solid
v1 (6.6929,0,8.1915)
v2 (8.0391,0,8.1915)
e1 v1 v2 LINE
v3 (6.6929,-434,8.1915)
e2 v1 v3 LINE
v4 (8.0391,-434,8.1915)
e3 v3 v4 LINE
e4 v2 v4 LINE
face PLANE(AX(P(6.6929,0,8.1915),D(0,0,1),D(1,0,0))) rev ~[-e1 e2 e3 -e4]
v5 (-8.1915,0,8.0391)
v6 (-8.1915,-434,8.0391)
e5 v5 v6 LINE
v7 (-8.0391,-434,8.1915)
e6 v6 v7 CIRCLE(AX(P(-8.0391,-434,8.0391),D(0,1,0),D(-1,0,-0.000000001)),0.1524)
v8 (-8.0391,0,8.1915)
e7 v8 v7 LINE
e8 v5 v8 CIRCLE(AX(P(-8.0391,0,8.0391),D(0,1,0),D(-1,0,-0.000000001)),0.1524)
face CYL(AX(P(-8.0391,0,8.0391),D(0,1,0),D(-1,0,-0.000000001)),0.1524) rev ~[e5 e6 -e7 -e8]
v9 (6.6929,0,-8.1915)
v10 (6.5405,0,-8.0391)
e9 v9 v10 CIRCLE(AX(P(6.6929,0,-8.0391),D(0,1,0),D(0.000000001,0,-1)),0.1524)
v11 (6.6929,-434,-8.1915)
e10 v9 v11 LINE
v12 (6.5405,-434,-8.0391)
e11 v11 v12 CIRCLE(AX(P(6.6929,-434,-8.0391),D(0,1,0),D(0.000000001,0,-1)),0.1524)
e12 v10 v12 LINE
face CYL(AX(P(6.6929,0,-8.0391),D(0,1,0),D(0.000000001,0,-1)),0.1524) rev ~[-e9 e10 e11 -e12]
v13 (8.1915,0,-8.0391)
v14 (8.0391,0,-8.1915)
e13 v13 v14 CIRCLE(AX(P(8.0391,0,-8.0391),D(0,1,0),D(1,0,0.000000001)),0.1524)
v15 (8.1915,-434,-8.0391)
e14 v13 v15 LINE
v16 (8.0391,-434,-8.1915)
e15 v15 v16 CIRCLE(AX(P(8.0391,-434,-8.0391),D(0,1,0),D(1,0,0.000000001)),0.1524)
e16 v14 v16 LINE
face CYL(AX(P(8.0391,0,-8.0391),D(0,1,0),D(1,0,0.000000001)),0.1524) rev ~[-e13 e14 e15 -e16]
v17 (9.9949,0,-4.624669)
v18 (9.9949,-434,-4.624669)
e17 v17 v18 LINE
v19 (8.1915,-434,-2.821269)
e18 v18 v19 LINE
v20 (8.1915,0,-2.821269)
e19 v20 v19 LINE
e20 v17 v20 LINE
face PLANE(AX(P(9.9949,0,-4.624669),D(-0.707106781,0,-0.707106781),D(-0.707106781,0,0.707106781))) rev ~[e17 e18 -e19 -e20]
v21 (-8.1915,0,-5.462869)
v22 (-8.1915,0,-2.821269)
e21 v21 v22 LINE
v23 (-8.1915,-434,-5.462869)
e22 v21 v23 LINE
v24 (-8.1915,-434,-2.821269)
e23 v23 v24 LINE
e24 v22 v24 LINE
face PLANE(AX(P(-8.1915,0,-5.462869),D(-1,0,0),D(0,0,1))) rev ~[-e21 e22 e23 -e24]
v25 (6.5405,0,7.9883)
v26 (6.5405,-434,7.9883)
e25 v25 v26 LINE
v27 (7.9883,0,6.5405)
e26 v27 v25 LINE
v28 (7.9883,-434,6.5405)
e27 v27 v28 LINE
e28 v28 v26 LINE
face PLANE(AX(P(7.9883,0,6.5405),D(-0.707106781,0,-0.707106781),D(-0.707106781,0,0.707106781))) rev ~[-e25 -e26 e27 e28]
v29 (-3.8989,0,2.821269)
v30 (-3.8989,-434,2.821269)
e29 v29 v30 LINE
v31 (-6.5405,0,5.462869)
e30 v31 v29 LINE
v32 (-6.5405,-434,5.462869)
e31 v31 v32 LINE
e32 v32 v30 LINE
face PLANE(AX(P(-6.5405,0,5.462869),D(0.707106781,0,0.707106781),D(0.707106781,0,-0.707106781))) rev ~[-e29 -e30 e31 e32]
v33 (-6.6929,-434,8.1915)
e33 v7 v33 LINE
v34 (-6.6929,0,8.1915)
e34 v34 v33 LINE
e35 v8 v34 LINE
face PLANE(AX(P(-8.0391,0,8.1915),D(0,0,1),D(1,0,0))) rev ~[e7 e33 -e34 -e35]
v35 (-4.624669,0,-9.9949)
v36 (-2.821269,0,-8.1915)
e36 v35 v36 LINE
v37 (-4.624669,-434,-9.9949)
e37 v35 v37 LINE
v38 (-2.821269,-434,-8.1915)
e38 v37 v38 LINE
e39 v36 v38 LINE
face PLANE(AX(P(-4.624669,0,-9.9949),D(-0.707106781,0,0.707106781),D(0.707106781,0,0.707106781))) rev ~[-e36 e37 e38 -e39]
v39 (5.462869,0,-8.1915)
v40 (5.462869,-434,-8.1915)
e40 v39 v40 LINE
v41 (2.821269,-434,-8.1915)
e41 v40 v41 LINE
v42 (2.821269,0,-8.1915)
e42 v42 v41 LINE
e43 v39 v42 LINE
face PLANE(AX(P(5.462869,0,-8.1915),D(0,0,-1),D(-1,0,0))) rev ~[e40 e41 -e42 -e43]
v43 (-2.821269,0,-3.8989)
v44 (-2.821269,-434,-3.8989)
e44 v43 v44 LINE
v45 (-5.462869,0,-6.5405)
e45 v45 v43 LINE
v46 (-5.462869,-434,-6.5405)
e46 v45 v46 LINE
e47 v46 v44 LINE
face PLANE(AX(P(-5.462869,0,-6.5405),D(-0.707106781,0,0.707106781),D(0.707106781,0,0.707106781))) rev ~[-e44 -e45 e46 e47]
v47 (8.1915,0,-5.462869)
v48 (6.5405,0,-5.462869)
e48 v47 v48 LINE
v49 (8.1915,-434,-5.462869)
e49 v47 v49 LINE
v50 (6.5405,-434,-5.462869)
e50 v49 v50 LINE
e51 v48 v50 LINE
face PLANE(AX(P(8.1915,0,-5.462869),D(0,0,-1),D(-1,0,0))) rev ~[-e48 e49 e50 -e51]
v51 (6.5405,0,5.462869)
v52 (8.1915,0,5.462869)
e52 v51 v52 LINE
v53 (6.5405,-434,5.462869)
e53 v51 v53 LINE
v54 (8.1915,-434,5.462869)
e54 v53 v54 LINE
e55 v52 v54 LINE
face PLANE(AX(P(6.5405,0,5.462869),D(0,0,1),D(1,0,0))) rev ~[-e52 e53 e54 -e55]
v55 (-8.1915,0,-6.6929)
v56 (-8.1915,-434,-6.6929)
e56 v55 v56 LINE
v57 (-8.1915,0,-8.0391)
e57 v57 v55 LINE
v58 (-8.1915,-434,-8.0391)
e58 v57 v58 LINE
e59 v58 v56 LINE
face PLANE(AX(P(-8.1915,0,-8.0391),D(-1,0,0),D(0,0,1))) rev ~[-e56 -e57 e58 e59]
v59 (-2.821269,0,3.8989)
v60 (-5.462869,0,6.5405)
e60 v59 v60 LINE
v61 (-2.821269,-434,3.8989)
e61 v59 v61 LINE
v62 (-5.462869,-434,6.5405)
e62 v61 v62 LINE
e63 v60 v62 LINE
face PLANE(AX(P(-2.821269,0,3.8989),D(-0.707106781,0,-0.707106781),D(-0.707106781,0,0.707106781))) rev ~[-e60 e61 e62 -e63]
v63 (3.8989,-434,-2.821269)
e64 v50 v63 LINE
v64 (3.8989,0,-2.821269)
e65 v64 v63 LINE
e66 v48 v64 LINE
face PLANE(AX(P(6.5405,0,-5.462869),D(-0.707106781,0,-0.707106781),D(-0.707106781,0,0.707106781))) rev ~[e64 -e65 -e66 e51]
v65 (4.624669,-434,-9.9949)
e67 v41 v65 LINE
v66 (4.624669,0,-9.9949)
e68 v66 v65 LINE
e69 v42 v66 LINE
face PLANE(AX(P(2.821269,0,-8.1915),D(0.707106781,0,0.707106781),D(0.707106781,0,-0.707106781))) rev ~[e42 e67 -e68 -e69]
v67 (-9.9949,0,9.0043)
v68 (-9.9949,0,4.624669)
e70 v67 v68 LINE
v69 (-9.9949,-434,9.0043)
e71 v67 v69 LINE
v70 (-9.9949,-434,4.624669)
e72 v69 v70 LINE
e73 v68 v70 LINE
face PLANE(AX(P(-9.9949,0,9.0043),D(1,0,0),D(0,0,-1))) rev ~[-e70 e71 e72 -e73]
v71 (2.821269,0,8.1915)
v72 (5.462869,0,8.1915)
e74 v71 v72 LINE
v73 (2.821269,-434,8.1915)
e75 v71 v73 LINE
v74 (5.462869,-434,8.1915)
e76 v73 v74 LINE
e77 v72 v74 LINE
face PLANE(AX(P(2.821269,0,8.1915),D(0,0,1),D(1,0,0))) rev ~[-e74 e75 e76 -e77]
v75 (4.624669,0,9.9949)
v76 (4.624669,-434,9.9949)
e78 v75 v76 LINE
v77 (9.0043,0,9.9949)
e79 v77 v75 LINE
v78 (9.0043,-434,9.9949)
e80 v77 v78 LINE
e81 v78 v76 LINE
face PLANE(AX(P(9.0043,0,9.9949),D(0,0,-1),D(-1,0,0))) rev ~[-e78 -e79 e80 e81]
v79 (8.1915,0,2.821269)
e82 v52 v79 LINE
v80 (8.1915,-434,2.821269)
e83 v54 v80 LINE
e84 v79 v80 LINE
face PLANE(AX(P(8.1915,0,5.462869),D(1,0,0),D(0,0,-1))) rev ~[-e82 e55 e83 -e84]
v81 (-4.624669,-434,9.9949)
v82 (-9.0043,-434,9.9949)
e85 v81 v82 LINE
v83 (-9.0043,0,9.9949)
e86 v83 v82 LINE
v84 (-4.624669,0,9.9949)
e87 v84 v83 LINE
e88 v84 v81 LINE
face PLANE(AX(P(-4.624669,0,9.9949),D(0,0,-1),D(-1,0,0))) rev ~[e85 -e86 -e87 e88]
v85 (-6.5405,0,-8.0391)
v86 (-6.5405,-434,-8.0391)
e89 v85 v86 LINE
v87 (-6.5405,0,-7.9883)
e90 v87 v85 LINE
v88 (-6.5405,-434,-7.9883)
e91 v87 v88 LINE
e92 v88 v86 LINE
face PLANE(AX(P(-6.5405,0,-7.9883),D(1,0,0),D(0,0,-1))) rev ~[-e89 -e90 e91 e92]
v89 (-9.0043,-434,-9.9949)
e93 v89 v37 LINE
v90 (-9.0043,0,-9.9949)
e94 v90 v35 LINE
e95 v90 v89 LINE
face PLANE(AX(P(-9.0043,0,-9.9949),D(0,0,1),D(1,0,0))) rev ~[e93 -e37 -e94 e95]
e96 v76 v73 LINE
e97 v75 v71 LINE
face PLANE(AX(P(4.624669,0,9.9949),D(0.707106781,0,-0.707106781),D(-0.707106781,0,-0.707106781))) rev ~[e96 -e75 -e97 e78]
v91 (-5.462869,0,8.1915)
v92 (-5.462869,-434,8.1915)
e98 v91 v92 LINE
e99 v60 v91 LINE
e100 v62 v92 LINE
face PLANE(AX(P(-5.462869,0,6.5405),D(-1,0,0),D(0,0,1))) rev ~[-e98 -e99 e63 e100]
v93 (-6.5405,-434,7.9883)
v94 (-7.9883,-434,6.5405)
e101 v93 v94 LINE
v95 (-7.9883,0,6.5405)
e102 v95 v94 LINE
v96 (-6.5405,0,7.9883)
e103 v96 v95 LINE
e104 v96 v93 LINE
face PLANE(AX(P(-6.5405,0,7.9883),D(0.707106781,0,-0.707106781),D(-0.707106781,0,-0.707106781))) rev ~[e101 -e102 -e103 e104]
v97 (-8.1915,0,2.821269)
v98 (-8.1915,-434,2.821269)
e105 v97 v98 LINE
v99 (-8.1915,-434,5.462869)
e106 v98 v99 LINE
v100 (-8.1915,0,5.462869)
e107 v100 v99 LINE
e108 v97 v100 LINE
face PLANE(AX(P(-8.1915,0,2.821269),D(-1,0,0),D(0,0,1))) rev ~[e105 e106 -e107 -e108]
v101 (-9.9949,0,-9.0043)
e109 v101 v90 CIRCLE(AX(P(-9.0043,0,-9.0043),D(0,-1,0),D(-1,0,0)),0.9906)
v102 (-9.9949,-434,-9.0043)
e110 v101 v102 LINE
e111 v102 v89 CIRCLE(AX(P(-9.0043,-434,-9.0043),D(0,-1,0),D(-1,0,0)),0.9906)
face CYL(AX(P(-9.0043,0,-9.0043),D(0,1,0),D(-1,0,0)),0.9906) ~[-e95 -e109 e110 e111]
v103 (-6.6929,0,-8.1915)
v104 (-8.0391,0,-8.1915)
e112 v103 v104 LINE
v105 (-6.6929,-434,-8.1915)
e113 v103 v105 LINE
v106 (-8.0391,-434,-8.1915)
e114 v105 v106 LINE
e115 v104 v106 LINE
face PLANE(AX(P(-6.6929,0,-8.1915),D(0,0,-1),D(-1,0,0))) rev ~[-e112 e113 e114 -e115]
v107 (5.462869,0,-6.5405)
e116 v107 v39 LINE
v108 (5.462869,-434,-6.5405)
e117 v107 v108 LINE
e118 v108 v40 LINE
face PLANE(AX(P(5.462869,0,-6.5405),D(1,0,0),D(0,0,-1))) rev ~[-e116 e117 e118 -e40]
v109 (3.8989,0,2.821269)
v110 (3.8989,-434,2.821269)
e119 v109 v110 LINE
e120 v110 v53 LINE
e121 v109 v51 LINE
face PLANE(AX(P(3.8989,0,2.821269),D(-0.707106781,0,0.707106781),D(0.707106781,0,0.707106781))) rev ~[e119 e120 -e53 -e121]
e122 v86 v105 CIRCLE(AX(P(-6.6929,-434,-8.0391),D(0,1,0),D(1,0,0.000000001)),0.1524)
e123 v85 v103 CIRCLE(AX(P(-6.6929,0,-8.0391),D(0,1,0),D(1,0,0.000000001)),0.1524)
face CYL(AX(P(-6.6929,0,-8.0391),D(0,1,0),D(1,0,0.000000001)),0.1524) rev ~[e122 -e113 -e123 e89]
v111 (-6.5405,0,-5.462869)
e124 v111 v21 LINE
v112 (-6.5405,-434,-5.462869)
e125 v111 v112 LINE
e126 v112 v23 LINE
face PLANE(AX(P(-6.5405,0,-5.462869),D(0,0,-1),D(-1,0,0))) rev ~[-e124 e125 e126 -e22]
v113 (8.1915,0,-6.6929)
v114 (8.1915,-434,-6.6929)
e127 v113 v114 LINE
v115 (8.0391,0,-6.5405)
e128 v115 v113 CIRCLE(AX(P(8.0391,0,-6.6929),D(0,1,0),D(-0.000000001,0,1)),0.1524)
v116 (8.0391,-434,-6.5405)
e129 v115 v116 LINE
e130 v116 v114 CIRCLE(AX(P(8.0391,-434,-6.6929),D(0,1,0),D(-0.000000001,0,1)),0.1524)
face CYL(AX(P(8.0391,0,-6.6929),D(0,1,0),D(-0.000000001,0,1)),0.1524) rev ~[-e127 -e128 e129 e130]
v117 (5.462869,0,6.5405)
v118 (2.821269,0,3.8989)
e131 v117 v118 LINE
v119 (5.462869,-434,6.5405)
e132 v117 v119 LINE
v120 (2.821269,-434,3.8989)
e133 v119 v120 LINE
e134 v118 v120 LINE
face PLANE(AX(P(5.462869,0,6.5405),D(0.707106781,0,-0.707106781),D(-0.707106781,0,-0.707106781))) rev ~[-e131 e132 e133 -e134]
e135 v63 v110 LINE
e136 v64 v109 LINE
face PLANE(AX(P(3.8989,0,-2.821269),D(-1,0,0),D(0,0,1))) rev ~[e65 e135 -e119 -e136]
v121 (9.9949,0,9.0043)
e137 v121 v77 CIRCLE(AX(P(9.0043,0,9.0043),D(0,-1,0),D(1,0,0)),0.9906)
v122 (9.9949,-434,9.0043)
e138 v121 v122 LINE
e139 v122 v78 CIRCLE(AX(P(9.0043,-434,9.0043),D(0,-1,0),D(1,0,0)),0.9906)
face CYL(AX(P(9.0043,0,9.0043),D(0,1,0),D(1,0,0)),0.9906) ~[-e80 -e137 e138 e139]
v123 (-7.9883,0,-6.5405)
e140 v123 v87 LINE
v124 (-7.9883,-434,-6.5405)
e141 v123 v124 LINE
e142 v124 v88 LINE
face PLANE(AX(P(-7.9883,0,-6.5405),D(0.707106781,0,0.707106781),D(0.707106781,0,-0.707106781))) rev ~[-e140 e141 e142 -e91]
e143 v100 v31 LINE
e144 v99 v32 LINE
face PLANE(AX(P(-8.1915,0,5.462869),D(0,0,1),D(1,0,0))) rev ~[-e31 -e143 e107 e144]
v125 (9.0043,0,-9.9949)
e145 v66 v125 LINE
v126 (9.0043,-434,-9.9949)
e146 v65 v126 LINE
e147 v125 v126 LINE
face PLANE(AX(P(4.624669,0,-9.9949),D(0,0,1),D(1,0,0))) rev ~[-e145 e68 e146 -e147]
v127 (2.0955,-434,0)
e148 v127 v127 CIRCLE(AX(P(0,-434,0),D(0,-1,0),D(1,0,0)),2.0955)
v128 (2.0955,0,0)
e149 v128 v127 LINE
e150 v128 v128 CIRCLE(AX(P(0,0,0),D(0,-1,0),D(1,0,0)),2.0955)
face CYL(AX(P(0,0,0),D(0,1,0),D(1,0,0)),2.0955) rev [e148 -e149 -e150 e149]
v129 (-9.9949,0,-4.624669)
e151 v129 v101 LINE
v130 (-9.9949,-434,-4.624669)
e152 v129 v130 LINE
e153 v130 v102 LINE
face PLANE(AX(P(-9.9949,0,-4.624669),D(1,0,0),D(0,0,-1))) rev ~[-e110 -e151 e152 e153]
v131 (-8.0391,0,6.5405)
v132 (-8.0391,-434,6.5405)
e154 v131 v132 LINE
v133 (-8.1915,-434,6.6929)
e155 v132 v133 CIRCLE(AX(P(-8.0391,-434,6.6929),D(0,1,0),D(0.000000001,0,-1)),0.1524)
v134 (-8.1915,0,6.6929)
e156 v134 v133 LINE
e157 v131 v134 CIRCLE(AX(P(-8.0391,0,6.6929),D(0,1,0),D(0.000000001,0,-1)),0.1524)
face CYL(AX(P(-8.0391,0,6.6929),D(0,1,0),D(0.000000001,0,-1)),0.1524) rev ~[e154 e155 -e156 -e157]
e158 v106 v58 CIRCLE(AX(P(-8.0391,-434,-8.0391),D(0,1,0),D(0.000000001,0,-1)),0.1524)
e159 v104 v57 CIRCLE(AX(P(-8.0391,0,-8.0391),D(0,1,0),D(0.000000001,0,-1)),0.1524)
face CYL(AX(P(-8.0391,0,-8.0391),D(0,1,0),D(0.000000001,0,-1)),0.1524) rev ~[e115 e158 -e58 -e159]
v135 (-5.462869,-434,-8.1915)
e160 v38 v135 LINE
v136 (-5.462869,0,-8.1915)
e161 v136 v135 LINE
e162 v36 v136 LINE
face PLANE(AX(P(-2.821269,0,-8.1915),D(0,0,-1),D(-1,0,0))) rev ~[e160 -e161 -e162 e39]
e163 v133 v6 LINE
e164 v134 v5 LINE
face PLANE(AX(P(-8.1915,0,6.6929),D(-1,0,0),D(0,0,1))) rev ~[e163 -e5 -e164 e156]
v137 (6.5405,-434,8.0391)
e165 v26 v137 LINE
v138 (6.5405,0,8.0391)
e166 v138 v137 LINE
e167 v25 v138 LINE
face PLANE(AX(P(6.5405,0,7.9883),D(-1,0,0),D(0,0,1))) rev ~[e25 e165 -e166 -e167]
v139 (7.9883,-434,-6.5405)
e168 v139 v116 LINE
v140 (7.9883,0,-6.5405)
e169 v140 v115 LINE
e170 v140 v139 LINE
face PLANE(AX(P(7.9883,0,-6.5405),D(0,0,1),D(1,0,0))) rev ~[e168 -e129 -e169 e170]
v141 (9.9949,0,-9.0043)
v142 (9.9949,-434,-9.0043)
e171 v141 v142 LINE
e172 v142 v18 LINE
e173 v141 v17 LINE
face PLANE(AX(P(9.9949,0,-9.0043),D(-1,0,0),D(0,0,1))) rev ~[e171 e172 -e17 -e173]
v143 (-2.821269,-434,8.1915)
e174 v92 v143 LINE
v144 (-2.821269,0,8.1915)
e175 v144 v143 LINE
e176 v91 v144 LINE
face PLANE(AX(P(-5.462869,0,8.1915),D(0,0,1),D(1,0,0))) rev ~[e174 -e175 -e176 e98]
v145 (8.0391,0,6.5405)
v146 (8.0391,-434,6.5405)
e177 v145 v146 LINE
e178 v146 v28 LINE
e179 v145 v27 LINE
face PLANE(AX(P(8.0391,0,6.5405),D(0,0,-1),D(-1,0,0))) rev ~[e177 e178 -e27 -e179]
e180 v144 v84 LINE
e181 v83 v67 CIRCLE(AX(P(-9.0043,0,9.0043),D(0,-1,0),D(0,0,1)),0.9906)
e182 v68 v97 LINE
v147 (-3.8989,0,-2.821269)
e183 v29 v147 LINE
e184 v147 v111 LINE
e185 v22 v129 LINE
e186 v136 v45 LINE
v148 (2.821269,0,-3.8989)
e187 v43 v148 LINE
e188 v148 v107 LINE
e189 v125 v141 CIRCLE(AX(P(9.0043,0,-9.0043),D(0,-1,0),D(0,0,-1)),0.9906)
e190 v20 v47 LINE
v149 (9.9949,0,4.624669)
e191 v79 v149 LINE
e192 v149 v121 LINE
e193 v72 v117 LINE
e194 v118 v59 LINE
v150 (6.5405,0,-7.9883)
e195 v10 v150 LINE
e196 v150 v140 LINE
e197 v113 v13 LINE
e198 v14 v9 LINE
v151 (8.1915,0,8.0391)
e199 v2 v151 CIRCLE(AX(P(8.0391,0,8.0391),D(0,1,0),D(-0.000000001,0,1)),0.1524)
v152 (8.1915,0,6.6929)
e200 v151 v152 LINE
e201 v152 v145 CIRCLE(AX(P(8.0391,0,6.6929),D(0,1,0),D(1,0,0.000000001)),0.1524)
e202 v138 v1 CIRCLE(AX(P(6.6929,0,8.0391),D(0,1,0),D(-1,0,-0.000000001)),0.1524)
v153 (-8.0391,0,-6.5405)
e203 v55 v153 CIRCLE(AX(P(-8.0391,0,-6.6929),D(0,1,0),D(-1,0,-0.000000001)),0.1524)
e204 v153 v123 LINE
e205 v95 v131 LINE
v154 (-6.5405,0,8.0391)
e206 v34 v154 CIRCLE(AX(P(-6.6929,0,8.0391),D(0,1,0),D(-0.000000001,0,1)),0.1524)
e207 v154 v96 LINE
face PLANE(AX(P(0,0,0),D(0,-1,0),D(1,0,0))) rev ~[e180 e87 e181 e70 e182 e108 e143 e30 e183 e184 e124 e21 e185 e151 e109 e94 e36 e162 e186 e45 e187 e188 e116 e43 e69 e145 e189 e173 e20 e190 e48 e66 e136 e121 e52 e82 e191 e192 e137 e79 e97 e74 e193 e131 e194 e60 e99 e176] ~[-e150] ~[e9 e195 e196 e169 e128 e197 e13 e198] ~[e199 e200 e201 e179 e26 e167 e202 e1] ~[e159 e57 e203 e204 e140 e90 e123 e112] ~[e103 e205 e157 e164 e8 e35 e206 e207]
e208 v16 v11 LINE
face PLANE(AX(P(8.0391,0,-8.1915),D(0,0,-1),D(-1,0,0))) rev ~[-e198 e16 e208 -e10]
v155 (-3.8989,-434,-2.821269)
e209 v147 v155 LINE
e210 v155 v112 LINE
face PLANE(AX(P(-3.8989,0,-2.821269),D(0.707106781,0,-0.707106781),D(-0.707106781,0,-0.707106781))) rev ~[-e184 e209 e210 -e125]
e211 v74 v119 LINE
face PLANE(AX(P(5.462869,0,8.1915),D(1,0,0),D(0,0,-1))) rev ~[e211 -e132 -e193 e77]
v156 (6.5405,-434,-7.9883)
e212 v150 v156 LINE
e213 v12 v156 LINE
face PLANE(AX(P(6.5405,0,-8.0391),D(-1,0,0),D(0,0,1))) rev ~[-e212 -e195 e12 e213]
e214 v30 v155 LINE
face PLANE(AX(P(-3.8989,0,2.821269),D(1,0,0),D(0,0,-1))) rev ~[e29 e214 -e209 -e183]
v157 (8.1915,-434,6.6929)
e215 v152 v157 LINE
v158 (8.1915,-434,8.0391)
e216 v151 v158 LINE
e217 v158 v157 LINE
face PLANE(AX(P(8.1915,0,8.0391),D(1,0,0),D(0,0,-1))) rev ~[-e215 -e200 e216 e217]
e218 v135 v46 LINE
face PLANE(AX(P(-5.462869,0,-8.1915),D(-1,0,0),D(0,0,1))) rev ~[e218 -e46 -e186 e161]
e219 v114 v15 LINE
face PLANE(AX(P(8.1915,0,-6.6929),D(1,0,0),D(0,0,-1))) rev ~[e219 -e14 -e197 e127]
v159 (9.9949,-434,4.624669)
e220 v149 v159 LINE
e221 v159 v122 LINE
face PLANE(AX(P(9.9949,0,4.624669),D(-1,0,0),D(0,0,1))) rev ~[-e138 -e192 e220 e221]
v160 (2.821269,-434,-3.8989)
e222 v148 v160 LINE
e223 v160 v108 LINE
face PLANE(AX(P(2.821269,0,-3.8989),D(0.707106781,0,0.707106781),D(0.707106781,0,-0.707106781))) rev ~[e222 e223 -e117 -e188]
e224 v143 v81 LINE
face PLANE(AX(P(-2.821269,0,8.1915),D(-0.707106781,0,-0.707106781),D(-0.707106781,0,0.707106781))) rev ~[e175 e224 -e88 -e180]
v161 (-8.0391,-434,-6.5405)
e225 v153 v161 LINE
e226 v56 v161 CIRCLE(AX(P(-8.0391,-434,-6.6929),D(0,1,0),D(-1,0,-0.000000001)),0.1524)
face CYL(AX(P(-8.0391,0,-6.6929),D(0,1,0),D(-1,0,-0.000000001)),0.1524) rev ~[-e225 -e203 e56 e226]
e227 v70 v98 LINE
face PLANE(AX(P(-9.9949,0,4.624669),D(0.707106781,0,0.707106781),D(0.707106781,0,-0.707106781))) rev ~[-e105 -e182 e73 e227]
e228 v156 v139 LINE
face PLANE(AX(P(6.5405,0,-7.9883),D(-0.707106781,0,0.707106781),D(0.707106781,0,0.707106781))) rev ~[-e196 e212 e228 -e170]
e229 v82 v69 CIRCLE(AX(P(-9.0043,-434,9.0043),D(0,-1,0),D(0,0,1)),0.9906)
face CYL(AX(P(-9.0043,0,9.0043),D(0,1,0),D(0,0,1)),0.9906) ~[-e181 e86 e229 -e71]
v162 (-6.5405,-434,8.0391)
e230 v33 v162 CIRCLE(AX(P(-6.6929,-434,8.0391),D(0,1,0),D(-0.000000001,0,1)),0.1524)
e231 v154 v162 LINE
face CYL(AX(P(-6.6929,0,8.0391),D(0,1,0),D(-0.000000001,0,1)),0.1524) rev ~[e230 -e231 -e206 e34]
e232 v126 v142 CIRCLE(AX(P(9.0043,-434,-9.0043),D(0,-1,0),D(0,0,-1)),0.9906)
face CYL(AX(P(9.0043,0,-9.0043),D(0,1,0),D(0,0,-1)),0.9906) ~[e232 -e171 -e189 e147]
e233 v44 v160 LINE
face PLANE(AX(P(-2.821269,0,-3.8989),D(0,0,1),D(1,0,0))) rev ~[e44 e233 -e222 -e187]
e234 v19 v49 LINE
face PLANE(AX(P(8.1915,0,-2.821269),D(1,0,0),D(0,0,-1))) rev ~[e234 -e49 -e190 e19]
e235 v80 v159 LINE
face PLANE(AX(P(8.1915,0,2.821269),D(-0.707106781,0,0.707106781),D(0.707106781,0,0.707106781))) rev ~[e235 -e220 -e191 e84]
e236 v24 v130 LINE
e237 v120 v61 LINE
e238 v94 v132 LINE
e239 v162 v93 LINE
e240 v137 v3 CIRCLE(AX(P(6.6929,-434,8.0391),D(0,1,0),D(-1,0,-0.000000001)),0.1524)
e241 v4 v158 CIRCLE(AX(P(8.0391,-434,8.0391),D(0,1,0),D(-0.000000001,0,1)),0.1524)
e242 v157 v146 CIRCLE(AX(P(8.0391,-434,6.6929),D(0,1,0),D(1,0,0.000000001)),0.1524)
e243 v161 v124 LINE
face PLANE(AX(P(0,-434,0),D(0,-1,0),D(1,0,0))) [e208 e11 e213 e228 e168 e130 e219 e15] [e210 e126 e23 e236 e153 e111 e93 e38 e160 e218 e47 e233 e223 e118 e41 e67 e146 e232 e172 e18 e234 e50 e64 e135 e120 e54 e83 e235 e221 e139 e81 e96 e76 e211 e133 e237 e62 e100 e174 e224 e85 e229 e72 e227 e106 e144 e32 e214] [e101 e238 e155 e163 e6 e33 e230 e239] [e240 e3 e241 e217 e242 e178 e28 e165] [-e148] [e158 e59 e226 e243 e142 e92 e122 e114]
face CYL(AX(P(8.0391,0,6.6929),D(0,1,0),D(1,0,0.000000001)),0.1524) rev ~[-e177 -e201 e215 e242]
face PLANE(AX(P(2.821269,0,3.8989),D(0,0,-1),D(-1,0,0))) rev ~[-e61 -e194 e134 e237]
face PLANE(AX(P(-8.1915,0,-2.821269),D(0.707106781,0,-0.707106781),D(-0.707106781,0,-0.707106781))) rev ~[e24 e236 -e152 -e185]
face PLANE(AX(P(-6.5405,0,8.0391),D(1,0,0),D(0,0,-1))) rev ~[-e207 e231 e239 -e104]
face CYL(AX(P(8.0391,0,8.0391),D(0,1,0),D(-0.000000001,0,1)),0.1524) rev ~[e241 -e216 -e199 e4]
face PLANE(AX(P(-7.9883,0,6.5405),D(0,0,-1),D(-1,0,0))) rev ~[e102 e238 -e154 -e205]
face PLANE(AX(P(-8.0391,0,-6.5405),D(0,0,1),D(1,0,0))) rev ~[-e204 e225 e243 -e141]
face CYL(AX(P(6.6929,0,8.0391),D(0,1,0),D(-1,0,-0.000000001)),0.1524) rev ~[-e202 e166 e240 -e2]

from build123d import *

# Parameters (mm, degrees)
F0_R     = 2.0955
F2_DEPTH = 434


with BuildPart() as f2:
    # F0 (on Front) → F2 (new body)
    with BuildSketch(Plane.XZ):
        with BuildLine():
            Line((-4.6246692655, 9.9949), (-9.0043, 9.9949))
            ThreePointArc((-9.0043, 9.9949), (-9.7047599774, 9.7047599774), (-9.9949, 9.0043))
            Line((-9.9949, 9.0043), (-9.9949, 4.6246692655))
            Line((-9.9949, 4.6246692655), (-8.1915, 2.8212692655))
            Line((-8.1915, 2.8212692655), (-8.1915, 5.4628692655))
            Line((-8.1915, 5.4628692655), (-6.5405, 5.4628692655))
            Line((-6.5405, 5.4628692655), (-3.8989, 2.8212692655))
            Line((-3.8989, 2.8212692655), (-3.8989, -2.8212692655))
            Line((-3.8989, -2.8212692655), (-6.5405, -5.4628692655))
            Line((-6.5405, -5.4628692655), (-8.1915, -5.4628692655))
            Line((-8.1915, -5.4628692655), (-8.1915, -2.8212692655))
            Line((-8.1915, -2.8212692655), (-9.9949, -4.6246692655))
            Line((-9.9949, -4.6246692655), (-9.9949, -9.0043))
            ThreePointArc((-9.9949, -9.0043), (-9.7047599774, -9.7047599774), (-9.0043, -9.9949))
            Line((-9.0043, -9.9949), (-4.6246692655, -9.9949))
            Line((-4.6246692655, -9.9949), (-2.8212692655, -8.1915))
            Line((-2.8212692655, -8.1915), (-5.4628692655, -8.1915))
            Line((-5.4628692655, -8.1915), (-5.4628692655, -6.5405))
            Line((-5.4628692655, -6.5405), (-2.8212692655, -3.8989))
            Line((-2.8212692655, -3.8989), (2.8212692655, -3.8989))
            Line((2.8212692655, -3.8989), (5.4628692655, -6.5405))
            Line((5.4628692655, -6.5405), (5.4628692655, -8.1915))
            Line((5.4628692655, -8.1915), (2.8212692655, -8.1915))
            Line((2.8212692655, -8.1915), (4.6246692655, -9.9949))
            Line((4.6246692655, -9.9949), (9.0043, -9.9949))
            ThreePointArc((9.0043, -9.9949), (9.7047599774, -9.7047599774), (9.9949, -9.0043))
            Line((9.9949, -9.0043), (9.9949, -4.6246692655))
            Line((9.9949, -4.6246692655), (8.1915, -2.8212692655))
            Line((8.1915, -2.8212692655), (8.1915, -5.4628692655))
            Line((8.1915, -5.4628692655), (6.5405, -5.4628692655))
            Line((6.5405, -5.4628692655), (3.8989, -2.8212692655))
            Line((3.8989, -2.8212692655), (3.8989, 2.8212692655))
            Line((3.8989, 2.8212692655), (6.5405, 5.4628692655))
            Line((6.5405, 5.4628692655), (8.1915, 5.4628692655))
            Line((8.1915, 5.4628692655), (8.1915, 2.8212692655))
            Line((8.1915, 2.8212692655), (9.9949, 4.6246692655))
            Line((9.9949, 4.6246692655), (9.9949, 9.0043))
            ThreePointArc((9.9949, 9.0043), (9.7047599774, 9.7047599774), (9.0043, 9.9949))
            Line((9.0043, 9.9949), (4.6246692655, 9.9949))
            Line((4.6246692655, 9.9949), (2.8212692655, 8.1915))
            Line((2.8212692655, 8.1915), (5.4628692655, 8.1915))
            Line((5.4628692655, 8.1915), (5.4628692655, 6.5405))
            Line((5.4628692655, 6.5405), (2.8212692655, 3.8989))
            Line((2.8212692655, 3.8989), (-2.8212692655, 3.8989))
            Line((-2.8212692655, 3.8989), (-5.4628692655, 6.5405))
            Line((-5.4628692655, 6.5405), (-5.4628692655, 8.1915))
            Line((-5.4628692655, 8.1915), (-2.8212692655, 8.1915))
            Line((-2.8212692655, 8.1915), (-4.6246692655, 9.9949))
        make_face()
        with BuildLine():
            ThreePointArc((-8.0391, -8.1915), (-8.1468630735, -8.1468630735), (-8.1915, -8.0391))
            Line((-8.1915, -8.0391), (-8.1915, -6.6929))
            ThreePointArc((-8.1915, -6.6929), (-8.1468630735, -6.5851369265), (-8.0391, -6.5405))
            Line((-8.0391, -6.5405), (-7.9883, -6.5405))
            Line((-7.9883, -6.5405), (-6.5405, -7.9883))
            Line((-6.5405, -7.9883), (-6.5405, -8.0391))
            ThreePointArc((-6.5405, -8.0391), (-6.5851369265, -8.1468630735), (-6.6929, -8.1915))
            Line((-6.6929, -8.1915), (-8.0391, -8.1915))
        make_face(mode=Mode.SUBTRACT)
        with BuildLine():
            Line((8.1915, -6.6929), (8.1915, -8.0391))
            ThreePointArc((8.1915, -8.0391), (8.1468630735, -8.1468630735), (8.0391, -8.1915))
            Line((8.0391, -8.1915), (6.6929, -8.1915))
            ThreePointArc((6.6929, -8.1915), (6.5851369265, -8.1468630735), (6.5405, -8.0391))
            Line((6.5405, -8.0391), (6.5405, -7.9883))
            Line((6.5405, -7.9883), (7.9883, -6.5405))
            Line((7.9883, -6.5405), (8.0391, -6.5405))
            ThreePointArc((8.0391, -6.5405), (8.1468630735, -6.5851369265), (8.1915, -6.6929))
        make_face(mode=Mode.SUBTRACT)
        with BuildLine():
            Line((-7.9883, 6.5405), (-8.0391, 6.5405))
            ThreePointArc((-8.0391, 6.5405), (-8.1468630735, 6.5851369265), (-8.1915, 6.6929))
            Line((-8.1915, 6.6929), (-8.1915, 8.0391))
            ThreePointArc((-8.1915, 8.0391), (-8.1468630735, 8.1468630735), (-8.0391, 8.1915))
            Line((-8.0391, 8.1915), (-6.6929, 8.1915))
            ThreePointArc((-6.6929, 8.1915), (-6.5851369265, 8.1468630735), (-6.5405, 8.0391))
            Line((-6.5405, 8.0391), (-6.5405, 7.9883))
            Line((-6.5405, 7.9883), (-7.9883, 6.5405))
        make_face(mode=Mode.SUBTRACT)
        Circle(F0_R, mode=Mode.SUBTRACT)
        with BuildLine():
            ThreePointArc((8.1915, 6.6929), (8.1468630735, 6.5851369265), (8.0391, 6.5405))
            Line((8.0391, 6.5405), (7.9883, 6.5405))
            Line((7.9883, 6.5405), (6.5405, 7.9883))
            Line((6.5405, 7.9883), (6.5405, 8.0391))
            ThreePointArc((6.5405, 8.0391), (6.5851369265, 8.1468630735), (6.6929, 8.1915))
            Line((6.6929, 8.1915), (8.0391, 8.1915))
            ThreePointArc((8.0391, 8.1915), (8.1468630735, 8.1468630735), (8.1915, 8.0391))
            Line((8.1915, 8.0391), (8.1915, 6.6929))
        make_face(mode=Mode.SUBTRACT)
    extrude(amount=F2_DEPTH)


solid = f2.part
